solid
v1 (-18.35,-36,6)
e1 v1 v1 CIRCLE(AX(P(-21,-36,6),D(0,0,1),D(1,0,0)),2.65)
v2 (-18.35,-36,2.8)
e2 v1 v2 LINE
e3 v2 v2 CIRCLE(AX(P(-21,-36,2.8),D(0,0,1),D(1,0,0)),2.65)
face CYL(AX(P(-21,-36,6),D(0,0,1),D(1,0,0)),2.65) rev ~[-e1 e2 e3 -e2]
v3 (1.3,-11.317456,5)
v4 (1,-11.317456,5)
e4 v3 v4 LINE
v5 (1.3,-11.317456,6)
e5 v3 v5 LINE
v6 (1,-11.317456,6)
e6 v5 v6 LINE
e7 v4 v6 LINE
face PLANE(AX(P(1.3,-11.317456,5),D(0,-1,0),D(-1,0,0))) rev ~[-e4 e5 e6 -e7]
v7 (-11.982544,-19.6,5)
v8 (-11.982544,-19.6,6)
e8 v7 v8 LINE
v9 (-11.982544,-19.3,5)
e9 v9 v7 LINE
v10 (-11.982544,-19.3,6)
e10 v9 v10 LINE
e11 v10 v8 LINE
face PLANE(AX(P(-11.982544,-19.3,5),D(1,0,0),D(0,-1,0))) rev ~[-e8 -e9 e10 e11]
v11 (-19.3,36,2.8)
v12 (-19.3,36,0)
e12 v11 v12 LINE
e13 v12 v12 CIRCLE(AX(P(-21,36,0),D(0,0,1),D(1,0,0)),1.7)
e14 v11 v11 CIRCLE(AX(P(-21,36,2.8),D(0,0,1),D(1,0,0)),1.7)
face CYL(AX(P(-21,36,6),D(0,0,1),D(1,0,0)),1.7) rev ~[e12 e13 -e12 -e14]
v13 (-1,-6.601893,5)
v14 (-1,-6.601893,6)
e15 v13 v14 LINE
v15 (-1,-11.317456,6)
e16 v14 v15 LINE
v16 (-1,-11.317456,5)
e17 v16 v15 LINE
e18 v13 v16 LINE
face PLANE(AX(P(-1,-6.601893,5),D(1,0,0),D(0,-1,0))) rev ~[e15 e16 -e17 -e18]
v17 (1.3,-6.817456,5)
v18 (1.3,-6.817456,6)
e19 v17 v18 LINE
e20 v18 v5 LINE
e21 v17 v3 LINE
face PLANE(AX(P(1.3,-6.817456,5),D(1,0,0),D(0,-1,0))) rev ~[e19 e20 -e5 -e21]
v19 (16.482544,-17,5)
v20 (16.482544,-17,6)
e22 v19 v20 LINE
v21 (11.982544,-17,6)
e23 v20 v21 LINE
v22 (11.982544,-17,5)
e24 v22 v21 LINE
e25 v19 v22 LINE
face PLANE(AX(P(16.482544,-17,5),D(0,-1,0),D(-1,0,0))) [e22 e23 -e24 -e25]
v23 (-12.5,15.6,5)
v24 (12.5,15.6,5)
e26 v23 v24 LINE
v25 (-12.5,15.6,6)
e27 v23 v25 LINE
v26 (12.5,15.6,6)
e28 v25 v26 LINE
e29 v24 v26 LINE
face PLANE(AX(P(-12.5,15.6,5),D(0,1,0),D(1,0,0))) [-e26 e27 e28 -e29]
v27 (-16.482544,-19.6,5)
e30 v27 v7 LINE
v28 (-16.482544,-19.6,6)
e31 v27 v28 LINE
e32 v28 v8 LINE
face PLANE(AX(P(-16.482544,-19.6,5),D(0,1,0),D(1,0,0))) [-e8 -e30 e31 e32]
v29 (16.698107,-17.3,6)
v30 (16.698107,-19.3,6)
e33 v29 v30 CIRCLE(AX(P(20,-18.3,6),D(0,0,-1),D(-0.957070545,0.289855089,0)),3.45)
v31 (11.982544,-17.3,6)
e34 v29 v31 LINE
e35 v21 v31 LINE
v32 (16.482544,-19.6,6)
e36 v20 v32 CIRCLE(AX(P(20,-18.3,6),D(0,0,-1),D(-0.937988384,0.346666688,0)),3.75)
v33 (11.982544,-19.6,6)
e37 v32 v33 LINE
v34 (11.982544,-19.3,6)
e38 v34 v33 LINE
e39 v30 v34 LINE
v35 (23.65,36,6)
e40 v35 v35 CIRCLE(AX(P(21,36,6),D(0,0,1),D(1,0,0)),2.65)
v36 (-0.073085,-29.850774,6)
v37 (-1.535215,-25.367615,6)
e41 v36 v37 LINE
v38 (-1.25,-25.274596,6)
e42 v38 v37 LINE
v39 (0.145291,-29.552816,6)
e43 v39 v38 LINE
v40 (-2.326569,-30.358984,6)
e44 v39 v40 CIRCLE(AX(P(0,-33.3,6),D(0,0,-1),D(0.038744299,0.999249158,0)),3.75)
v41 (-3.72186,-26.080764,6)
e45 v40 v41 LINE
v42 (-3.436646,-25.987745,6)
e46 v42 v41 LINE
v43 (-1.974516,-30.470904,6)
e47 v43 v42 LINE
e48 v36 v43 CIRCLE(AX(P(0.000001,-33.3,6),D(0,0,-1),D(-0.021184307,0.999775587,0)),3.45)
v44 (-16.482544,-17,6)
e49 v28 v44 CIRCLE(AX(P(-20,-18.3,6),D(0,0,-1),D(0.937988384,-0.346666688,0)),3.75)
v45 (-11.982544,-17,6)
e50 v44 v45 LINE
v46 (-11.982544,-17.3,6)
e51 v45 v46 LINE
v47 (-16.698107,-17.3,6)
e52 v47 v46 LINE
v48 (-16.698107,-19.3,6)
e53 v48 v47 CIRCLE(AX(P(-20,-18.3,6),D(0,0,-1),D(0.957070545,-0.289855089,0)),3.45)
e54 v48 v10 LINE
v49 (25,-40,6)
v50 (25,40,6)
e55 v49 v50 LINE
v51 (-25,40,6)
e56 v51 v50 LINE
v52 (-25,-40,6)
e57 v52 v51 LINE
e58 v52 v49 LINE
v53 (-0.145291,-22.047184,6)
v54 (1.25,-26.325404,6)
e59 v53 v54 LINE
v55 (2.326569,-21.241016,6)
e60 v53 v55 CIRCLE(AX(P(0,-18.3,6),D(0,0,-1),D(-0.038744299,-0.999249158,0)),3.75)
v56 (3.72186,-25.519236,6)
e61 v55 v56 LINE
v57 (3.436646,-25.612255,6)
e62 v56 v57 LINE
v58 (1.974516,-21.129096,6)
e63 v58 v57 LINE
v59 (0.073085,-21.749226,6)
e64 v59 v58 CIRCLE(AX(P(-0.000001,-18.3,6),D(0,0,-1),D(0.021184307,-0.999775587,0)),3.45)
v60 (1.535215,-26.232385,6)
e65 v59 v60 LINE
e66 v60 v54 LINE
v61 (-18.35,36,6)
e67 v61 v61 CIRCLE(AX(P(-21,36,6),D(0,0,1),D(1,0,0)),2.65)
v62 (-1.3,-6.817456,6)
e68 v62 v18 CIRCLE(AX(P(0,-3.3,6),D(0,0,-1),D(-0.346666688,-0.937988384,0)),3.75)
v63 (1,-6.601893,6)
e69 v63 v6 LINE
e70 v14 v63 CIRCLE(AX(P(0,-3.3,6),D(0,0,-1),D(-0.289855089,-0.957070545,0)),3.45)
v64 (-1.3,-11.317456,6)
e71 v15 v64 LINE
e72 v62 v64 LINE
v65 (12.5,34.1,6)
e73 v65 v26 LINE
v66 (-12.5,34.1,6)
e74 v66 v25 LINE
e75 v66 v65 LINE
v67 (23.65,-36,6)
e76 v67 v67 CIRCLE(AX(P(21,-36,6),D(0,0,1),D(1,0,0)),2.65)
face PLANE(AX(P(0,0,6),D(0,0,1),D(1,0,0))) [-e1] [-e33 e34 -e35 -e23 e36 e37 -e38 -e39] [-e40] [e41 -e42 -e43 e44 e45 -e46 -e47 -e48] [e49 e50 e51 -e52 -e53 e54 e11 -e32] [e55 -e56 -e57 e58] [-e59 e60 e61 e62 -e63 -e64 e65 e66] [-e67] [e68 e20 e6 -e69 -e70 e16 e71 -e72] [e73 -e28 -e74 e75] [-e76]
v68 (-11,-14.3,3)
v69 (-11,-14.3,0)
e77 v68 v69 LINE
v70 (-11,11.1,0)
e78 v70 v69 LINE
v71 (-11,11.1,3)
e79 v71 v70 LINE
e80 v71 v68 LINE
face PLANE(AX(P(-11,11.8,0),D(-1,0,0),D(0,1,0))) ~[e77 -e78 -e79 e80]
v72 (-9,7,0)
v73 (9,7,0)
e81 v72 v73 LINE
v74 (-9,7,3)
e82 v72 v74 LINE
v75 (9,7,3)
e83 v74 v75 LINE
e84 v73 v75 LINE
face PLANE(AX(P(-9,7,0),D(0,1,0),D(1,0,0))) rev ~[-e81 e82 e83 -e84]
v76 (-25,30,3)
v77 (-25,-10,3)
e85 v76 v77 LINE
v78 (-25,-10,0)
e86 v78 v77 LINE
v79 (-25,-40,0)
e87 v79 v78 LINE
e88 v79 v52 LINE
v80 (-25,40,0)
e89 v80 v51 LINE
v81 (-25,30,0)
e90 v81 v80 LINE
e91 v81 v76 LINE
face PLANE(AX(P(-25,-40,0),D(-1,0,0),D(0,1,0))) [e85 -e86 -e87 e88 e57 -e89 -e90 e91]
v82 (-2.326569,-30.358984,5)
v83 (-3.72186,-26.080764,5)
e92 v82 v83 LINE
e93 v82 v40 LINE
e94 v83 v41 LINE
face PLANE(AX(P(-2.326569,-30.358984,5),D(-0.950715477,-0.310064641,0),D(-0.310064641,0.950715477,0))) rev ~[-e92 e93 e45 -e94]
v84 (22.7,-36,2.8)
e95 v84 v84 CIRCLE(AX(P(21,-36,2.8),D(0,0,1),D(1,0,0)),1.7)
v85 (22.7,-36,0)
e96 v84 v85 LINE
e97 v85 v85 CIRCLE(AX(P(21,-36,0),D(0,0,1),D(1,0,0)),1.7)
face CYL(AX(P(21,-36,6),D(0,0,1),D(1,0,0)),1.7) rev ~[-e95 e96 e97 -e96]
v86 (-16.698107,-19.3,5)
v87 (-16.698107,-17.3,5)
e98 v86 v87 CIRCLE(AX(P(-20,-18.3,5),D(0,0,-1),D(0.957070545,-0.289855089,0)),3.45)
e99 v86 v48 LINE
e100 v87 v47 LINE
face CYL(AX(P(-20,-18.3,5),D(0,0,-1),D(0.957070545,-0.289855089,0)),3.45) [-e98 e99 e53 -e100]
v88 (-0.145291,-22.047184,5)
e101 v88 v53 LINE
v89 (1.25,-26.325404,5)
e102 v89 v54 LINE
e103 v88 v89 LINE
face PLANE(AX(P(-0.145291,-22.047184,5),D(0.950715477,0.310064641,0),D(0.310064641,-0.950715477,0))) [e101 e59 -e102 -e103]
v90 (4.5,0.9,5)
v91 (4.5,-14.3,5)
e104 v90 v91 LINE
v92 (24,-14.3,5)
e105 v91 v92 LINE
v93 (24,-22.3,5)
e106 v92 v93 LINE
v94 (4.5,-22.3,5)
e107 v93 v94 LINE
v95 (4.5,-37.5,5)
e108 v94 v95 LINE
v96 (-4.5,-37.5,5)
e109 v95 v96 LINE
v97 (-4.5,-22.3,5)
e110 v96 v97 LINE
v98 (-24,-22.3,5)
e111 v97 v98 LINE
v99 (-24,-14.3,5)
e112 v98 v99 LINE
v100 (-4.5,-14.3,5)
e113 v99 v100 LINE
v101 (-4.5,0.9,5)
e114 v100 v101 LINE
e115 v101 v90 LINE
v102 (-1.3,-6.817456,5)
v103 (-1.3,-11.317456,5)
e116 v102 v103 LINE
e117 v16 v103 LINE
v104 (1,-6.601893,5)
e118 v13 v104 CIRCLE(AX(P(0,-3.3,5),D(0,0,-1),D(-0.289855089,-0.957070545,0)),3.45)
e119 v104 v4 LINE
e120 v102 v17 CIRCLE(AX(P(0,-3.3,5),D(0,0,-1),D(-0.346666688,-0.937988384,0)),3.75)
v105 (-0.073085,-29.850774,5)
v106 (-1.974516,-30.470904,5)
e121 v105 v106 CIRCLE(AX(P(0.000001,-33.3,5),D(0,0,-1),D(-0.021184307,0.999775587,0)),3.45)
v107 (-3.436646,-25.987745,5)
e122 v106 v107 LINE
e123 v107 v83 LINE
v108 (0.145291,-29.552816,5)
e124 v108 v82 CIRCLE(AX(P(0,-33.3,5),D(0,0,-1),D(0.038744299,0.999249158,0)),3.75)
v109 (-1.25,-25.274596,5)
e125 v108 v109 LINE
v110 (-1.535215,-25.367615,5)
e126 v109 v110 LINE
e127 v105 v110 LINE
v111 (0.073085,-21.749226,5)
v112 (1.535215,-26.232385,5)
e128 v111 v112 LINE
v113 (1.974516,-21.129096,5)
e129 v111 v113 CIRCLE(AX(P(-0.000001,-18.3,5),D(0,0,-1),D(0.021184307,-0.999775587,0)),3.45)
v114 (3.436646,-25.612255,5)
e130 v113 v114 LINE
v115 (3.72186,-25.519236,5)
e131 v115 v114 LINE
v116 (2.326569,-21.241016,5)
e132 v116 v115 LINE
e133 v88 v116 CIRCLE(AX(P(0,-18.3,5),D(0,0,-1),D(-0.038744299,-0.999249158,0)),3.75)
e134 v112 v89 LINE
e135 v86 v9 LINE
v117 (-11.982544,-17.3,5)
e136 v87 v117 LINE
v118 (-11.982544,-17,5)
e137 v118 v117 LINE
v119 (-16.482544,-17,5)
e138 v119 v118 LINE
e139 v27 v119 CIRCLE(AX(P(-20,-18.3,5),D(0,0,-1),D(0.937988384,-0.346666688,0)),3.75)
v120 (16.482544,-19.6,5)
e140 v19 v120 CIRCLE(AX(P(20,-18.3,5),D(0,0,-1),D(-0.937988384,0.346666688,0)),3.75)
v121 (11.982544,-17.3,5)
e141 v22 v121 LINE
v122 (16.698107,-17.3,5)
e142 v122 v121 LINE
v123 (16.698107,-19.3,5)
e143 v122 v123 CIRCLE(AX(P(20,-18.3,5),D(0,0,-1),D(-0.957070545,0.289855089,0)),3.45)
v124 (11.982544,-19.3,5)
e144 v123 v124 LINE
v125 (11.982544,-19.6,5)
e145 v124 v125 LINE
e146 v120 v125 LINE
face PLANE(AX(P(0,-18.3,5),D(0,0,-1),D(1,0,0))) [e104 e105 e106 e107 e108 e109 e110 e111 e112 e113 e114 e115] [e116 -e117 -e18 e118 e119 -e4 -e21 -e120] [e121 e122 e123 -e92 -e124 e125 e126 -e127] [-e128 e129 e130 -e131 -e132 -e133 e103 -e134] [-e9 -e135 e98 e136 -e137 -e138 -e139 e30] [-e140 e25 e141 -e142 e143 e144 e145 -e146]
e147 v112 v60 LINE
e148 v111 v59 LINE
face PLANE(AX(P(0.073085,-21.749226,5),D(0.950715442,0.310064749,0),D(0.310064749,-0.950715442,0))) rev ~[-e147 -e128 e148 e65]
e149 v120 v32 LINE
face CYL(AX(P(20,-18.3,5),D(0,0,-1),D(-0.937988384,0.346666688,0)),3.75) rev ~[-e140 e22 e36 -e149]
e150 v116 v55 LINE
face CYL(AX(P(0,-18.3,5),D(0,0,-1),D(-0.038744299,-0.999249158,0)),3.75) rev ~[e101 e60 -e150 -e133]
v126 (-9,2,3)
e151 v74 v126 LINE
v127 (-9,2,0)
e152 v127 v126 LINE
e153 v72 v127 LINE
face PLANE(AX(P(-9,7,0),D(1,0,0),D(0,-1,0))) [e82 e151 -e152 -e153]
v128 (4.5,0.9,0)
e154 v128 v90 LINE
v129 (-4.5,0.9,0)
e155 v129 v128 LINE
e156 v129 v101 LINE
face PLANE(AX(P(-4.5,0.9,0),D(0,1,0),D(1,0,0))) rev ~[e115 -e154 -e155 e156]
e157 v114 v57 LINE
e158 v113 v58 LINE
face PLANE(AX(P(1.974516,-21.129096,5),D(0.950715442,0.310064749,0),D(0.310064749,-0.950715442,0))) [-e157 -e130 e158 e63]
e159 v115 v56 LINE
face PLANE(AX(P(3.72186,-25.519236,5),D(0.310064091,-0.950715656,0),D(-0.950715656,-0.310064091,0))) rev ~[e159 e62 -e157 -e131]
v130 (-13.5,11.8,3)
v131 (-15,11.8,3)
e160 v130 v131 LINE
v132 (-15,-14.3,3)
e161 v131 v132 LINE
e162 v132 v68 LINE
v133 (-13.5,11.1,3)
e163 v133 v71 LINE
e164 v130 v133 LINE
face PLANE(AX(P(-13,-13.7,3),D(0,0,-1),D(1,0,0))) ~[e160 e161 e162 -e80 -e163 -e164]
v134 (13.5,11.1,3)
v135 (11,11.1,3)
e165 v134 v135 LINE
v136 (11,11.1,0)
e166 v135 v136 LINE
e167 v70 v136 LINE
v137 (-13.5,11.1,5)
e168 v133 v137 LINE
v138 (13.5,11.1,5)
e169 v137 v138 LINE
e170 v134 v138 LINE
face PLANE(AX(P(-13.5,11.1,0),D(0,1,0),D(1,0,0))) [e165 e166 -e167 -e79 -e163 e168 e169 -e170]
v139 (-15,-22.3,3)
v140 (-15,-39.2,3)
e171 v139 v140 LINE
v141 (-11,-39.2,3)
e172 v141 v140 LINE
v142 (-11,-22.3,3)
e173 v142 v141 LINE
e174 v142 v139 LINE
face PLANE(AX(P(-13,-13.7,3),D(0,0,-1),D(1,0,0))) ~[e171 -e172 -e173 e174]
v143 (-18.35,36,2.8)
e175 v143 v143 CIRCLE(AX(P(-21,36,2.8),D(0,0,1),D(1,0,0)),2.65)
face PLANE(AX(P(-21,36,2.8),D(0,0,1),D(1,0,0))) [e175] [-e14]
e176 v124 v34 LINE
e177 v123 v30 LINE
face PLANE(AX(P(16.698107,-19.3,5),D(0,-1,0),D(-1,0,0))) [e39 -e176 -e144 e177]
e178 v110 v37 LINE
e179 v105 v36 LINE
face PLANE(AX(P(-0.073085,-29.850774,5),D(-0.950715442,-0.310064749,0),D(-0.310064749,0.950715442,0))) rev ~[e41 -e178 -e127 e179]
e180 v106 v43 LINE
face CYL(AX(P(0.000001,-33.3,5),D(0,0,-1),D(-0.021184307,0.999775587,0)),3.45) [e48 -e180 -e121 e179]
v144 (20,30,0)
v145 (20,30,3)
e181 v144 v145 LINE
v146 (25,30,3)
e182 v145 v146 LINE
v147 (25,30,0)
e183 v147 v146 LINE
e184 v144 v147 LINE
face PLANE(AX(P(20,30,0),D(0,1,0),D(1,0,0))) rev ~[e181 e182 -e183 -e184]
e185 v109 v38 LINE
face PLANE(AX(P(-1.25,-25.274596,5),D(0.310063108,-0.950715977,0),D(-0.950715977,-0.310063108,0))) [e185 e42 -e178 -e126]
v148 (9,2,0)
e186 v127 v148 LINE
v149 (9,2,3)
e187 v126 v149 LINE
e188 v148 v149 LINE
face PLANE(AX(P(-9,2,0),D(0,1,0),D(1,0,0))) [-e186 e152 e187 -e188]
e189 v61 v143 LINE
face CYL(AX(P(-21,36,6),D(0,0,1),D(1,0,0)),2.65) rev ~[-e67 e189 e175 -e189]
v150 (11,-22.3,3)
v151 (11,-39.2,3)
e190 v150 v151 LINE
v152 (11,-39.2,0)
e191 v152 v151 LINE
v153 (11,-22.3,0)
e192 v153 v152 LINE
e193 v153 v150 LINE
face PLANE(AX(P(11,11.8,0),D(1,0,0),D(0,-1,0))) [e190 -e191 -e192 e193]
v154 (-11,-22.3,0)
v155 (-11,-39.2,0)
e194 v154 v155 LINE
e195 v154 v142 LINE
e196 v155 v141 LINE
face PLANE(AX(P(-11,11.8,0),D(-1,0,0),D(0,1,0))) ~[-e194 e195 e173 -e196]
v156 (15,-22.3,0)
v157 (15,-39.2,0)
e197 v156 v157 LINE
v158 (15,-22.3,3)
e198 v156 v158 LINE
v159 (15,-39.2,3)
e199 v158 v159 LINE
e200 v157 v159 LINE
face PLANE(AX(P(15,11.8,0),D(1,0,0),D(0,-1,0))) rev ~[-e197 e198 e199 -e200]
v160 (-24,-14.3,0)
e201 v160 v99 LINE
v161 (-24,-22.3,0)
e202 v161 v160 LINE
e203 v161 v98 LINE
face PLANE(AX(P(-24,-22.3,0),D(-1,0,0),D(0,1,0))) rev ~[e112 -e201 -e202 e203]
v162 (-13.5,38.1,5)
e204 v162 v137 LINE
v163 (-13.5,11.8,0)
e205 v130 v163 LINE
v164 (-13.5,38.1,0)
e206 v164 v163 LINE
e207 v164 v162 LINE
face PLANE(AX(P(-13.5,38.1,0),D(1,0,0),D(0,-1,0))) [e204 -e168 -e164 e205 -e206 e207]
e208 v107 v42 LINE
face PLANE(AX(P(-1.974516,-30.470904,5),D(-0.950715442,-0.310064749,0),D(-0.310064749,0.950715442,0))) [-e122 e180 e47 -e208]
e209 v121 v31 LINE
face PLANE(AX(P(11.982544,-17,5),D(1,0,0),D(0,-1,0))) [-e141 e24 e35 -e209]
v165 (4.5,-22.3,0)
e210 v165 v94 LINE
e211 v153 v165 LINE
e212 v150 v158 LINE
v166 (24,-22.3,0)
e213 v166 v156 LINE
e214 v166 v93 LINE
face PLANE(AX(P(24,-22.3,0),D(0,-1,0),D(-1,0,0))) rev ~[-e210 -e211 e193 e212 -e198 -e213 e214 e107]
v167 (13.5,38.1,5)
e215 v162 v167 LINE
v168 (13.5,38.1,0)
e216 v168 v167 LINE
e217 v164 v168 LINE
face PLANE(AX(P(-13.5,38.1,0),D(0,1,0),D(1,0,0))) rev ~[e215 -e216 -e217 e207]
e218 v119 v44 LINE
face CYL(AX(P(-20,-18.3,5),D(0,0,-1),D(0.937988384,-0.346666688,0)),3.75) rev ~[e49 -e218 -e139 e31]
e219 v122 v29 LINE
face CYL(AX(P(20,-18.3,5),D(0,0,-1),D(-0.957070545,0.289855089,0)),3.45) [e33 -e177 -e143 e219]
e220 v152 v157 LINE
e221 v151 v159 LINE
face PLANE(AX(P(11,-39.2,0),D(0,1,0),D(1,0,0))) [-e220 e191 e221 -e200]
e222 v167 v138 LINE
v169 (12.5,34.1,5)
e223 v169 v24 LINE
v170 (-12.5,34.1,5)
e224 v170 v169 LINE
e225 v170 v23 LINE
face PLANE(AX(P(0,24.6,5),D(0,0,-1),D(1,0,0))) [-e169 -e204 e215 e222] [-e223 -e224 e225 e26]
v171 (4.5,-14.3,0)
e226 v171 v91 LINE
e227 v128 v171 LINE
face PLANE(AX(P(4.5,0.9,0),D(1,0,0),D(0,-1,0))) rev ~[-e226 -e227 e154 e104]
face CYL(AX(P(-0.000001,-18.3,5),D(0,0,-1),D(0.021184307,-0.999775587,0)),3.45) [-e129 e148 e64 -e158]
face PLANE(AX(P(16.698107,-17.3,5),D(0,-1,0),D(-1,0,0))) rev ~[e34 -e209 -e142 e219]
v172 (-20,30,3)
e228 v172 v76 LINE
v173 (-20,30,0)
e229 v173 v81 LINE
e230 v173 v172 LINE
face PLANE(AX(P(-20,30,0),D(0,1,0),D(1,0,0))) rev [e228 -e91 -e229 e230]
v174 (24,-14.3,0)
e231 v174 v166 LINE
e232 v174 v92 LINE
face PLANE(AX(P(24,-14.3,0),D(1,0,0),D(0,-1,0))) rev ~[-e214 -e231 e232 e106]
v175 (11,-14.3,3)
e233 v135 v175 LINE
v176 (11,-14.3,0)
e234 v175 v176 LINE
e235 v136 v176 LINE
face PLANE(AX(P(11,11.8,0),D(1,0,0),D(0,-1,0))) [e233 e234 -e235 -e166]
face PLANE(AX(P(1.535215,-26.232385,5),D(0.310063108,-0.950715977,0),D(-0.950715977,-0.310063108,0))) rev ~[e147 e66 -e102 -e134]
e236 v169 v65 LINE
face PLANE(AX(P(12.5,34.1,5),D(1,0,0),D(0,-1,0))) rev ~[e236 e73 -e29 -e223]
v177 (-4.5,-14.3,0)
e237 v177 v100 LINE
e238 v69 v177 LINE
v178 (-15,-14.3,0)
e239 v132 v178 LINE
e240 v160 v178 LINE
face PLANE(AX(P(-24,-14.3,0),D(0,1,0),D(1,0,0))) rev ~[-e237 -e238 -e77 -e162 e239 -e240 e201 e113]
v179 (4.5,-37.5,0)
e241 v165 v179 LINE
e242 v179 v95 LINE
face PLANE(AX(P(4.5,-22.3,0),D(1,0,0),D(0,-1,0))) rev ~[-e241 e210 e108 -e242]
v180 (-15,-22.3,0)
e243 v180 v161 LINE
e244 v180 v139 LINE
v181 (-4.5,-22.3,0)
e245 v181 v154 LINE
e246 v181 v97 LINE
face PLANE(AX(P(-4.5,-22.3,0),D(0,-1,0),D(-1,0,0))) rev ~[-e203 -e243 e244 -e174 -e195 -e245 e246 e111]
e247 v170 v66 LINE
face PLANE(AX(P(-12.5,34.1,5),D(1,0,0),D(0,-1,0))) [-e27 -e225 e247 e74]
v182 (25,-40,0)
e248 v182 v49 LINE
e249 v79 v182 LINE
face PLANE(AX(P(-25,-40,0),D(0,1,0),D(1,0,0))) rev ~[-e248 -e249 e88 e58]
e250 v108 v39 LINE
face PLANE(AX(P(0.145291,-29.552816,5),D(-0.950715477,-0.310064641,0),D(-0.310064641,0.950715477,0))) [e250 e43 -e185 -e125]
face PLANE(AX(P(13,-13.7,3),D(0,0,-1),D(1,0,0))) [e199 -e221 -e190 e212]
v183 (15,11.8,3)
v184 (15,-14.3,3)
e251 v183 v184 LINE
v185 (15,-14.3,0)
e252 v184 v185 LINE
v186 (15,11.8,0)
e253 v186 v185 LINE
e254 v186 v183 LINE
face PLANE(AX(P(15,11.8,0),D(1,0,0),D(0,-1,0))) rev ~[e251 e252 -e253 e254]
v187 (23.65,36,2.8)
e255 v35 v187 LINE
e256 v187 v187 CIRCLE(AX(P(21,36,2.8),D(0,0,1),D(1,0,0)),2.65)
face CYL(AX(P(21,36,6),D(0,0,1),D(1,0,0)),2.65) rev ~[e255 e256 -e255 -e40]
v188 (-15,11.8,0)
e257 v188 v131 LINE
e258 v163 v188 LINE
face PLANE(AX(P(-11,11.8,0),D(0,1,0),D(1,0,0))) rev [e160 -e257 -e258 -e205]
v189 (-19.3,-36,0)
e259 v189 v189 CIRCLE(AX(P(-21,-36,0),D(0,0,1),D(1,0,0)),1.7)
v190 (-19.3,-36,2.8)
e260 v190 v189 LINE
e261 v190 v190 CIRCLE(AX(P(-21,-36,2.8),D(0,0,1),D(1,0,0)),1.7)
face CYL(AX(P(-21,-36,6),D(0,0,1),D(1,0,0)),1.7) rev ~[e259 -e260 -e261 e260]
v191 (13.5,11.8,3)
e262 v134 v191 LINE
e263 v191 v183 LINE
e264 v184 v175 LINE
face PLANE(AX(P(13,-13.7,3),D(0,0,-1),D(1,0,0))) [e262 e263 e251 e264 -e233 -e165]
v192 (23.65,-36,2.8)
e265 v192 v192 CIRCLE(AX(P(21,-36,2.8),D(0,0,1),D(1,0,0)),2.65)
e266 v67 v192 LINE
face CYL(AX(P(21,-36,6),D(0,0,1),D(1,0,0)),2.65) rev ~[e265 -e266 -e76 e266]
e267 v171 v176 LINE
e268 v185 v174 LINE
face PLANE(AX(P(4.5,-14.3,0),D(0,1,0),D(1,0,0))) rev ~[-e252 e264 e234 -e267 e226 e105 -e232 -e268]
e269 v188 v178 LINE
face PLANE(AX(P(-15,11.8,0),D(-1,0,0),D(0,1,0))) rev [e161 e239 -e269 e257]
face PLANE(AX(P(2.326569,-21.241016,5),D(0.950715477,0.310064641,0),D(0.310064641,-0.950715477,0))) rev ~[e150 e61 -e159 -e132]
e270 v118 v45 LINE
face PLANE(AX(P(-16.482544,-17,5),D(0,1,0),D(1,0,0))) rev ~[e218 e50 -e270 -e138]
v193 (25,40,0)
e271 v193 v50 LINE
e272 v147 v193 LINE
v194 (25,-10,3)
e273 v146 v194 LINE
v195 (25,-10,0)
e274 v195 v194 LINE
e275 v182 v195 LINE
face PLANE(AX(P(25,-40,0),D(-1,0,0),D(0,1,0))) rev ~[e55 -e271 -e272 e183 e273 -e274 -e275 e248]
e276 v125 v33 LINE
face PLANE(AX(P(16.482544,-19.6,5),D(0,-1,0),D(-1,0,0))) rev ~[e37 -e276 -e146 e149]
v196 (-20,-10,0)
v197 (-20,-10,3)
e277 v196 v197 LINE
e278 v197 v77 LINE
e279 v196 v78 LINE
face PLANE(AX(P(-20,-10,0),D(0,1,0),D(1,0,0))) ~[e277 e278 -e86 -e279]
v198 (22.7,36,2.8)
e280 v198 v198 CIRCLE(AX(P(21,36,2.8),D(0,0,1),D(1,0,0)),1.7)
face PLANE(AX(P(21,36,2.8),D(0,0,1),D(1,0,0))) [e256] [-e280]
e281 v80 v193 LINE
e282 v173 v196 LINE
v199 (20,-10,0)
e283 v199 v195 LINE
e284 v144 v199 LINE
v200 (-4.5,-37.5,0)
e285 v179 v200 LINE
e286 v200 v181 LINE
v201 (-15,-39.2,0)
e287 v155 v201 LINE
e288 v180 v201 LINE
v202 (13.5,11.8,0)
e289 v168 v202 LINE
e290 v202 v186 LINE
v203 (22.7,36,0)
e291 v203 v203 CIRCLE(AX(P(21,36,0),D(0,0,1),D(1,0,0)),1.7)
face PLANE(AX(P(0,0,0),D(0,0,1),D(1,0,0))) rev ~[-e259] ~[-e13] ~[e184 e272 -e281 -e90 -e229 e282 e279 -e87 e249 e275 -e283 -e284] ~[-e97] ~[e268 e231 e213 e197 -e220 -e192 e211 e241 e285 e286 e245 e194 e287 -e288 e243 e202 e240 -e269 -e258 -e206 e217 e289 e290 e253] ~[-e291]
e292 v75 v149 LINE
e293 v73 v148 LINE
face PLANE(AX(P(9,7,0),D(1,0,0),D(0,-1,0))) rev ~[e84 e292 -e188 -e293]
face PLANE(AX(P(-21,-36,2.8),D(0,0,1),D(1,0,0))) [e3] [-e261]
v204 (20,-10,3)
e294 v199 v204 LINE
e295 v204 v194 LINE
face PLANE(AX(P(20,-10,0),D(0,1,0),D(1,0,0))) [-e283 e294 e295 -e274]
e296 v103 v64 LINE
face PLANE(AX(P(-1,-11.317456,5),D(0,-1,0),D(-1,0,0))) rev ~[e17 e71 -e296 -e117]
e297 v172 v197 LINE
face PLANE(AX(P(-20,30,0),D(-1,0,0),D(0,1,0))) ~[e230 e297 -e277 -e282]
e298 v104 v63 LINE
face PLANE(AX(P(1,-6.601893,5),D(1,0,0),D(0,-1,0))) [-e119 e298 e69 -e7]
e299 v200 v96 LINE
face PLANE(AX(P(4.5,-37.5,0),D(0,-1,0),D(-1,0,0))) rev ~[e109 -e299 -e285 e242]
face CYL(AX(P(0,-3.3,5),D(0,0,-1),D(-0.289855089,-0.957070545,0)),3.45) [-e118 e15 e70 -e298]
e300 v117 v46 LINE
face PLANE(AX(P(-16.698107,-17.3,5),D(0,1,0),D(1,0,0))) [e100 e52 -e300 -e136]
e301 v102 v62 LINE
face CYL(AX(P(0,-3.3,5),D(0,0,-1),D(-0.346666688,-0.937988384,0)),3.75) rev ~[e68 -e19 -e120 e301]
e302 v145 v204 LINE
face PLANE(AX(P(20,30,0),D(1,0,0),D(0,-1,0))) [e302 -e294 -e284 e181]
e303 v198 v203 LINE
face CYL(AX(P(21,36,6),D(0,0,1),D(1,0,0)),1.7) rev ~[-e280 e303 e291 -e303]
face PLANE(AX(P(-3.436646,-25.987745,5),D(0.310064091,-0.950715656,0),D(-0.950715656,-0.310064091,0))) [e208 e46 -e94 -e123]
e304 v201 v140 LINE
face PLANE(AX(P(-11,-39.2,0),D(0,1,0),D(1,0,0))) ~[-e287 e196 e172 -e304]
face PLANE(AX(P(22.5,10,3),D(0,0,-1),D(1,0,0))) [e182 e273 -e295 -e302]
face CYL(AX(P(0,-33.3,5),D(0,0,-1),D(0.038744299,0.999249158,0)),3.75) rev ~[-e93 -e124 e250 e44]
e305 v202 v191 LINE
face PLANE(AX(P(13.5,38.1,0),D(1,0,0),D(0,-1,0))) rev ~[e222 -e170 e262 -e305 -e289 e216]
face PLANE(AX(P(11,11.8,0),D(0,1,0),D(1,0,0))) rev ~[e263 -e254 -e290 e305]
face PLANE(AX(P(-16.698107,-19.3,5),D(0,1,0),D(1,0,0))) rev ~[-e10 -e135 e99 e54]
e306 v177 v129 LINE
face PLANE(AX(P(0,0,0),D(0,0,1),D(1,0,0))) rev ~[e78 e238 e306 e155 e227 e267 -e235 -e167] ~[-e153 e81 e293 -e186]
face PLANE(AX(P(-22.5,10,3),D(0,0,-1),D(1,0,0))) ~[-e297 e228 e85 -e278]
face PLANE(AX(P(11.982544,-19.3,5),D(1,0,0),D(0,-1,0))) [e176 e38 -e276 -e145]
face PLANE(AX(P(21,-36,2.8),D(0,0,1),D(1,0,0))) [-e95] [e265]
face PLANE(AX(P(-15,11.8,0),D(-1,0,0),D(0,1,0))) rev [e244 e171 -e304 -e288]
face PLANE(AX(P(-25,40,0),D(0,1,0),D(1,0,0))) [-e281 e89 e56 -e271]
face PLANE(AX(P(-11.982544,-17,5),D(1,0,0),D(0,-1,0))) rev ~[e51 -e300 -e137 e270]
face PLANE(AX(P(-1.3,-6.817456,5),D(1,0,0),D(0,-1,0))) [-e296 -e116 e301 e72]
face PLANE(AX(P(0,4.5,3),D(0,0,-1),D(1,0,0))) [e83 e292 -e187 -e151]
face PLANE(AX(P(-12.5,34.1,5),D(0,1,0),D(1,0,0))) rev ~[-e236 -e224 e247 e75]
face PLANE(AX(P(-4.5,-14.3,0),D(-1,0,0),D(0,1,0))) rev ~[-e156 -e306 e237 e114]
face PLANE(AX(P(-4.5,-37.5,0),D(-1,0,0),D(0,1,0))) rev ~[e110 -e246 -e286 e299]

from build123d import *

# Parameters (mm, degrees)
SKETCH011_W     = 50
SKETCH011_H     = 80
PAD005_DEPTH    = 6
SKETCH012_R     = 1.7
POCKET005_DEPTH = 6
SKETCH013_W     = 7
SKETCH013_H     = 6
POCKET006_DEPTH = 5
SKETCH014_W     = 27
SKETCH014_H     = 27
POCKET007_DEPTH = 5
SKETCH015_W     = 25
SKETCH015_H     = 18.5
POCKET008_DEPTH = 1
POCKET009_DEPTH = 5
POCKET010_DEPTH = 1
SKETCH019_W     = 18
SKETCH019_H     = 5
POCKET011_DEPTH = 3
SKETCH020_W     = 4
SKETCH020_H     = 51
POCKET012_DEPTH = 3
SKETCH021_W     = 5
SKETCH021_H     = 40
POCKET013_DEPTH = 3
SKETCH023_R     = 2.65
POCKET014_DEPTH = 3.2


with BuildPart() as part:
    # Sketch011 → Pad005 (new body)
    with BuildSketch(Plane.XY):
        Rectangle(SKETCH011_W, SKETCH011_H)
    extrude(amount=PAD005_DEPTH)

    # Sketch012 (on Face6 of Pad005) → Pocket005 (cut)
    with BuildSketch(Plane.XY.offset(6)):
        with Locations((-21, 36)):
            Circle(SKETCH012_R)
        with Locations((21, 36)):
            Circle(SKETCH012_R)
        with Locations((-21, -36)):
            Circle(SKETCH012_R)
        with Locations((21, -36)):
            Circle(SKETCH012_R)
    extrude(amount=-POCKET005_DEPTH, mode=Mode.SUBTRACT)

    # Sketch013 (on Face4 of Pocket005) → Pocket006 (cut)
    with BuildSketch(Plane(origin=(0, 0, 0), x_dir=(1, 0, 0), z_dir=(0, 0, -1))):
        with Locations((0, 33.3)):
            Rectangle(SKETCH013_W, SKETCH013_H)
        with Locations((0, 3.3)):
            Rectangle(SKETCH013_W, SKETCH013_H)
        with Locations((0, 18.3)):
            Rectangle(SKETCH013_W, SKETCH013_H)
        with Locations((20, 18.3)):
            Rectangle(SKETCH013_W, SKETCH013_H)
        with Locations((-20, 18.3)):
            Rectangle(SKETCH013_W, SKETCH013_H)
    extrude(amount=-POCKET006_DEPTH, mode=Mode.SUBTRACT)

    # Sketch014 (on Face4 of Pocket006) → Pocket007 (cut)
    with BuildSketch(Plane(origin=(0, 0, 0), x_dir=(1, 0, 0), z_dir=(0, 0, -1))):
        with Locations((0, -24.6)):
            Rectangle(SKETCH014_W, SKETCH014_H)
    extrude(amount=-POCKET007_DEPTH, mode=Mode.SUBTRACT)

    # Sketch015 (on Face40 of Pocket007) → Pocket008 (cut)
    with BuildSketch(Plane(origin=(0, 0, 5), x_dir=(1, 0, 0), z_dir=(0, 0, -1))):
        with Locations((0, -24.85)):
            Rectangle(SKETCH015_W, SKETCH015_H)
    extrude(amount=-POCKET008_DEPTH, mode=Mode.SUBTRACT)

    # Sketch017 (on Face4 of Pocket008) → Pocket009 (cut)
    with BuildSketch(Plane(origin=(0, 0, 0), x_dir=(1, 0, 0), z_dir=(0, 0, -1))):
        Polygon((4.5, 37.5), (-4.5, 37.5), (-4.5, 22.3), (-24, 22.3), (-24, 14.3), (-4.5, 14.3), (-4.5, -0.9), (4.5, -0.9), (4.5, 14.3), (24, 14.3), (24, 22.3), (4.5, 22.3), align=None)
    extrude(amount=-POCKET009_DEPTH, mode=Mode.SUBTRACT)

    # Sketch018 (on Face32 of Pocket009) → Pocket010 (cut)
    with BuildSketch(Plane(origin=(0, 0, 5), x_dir=(1, 0, 0), z_dir=(0, 0, -1))):
        with BuildLine():
            ThreePointArc((0.145291, 29.552816), (1.162743, 36.865183), (-2.326569, 30.358984))
            Line((-2.326569, 30.358984), (-3.72186, 26.080764))
            Line((-3.436646, 25.987745), (-3.72186, 26.080764))
            Line((-1.974516, 30.470904), (-3.436646, 25.987745))
            ThreePointArc((-0.073085, 29.850774), (1.069723, 36.579968), (-1.974516, 30.470904))
            Line((-0.073085, 29.850774), (-1.535215, 25.367615))
            Line((-1.25, 25.274596), (-1.535215, 25.367615))
            Line((0.145291, 29.552816), (-1.25, 25.274596))
        make_face()
        with BuildLine():
            ThreePointArc((-16.482544, 19.6), (-23.75, 18.3), (-16.482544, 17))
            Line((-16.482544, 17), (-11.982544, 17))
            Line((-11.982544, 17), (-11.982544, 17.3))
            Line((-16.698107, 17.3), (-11.982544, 17.3))
            ThreePointArc((-16.698107, 19.3), (-23.45, 18.3), (-16.698107, 17.3))
            Line((-16.698107, 19.3), (-11.982544, 19.3))
            Line((-11.982544, 19.3), (-11.982544, 19.6))
            Line((-16.482544, 19.6), (-11.982544, 19.6))
        make_face()
        with BuildLine():
            ThreePointArc((16.482544, 17), (23.75, 18.3), (16.482544, 19.6))
            Line((16.482544, 19.6), (11.982544, 19.6))
            Line((11.982544, 19.3), (11.982544, 19.6))
            Line((16.698107, 19.3), (11.982544, 19.3))
            ThreePointArc((16.698107, 17.3), (23.45, 18.3), (16.698107, 19.3))
            Line((16.698107, 17.3), (11.982544, 17.3))
            Line((11.982544, 17), (11.982544, 17.3))
            Line((16.482544, 17), (11.982544, 17))
        make_face()
        with BuildLine():
            ThreePointArc((-1.3, 6.817456), (0, -0.45), (1.3, 6.817456))
            Line((1.3, 6.817456), (1.3, 11.317456))
            Line((1.3, 11.317456), (1, 11.317456))
            Line((1, 6.601893), (1, 11.317456))
            ThreePointArc((-1, 6.601893), (0, -0.15), (1, 6.601893))
            Line((-1, 6.601893), (-1, 11.317456))
            Line((-1, 11.317456), (-1.3, 11.317456))
            Line((-1.3, 6.817456), (-1.3, 11.317456))
        make_face()
        with BuildLine():
            ThreePointArc((-0.145291, 22.047184), (-1.162743, 14.734817), (2.326569, 21.241016))
            Line((2.326569, 21.241016), (3.72186, 25.519236))
            Line((3.72186, 25.519236), (3.436646, 25.612255))
            Line((1.974516, 21.129096), (3.436646, 25.612255))
            ThreePointArc((0.073085, 21.749226), (-1.069723, 15.020032), (1.974516, 21.129096))
            Line((0.073085, 21.749226), (1.535215, 26.232385))
            Line((1.535215, 26.232385), (1.25, 26.325404))
            Line((-0.145291, 22.047184), (1.25, 26.325404))
        make_face()
    extrude(amount=-POCKET010_DEPTH, mode=Mode.SUBTRACT)

    # Sketch019 (on Face4 of Pocket010) → Pocket011 (cut)
    with BuildSketch(Plane(origin=(0, 0, 0), x_dir=(1, 0, 0), z_dir=(0, 0, -1))):
        with Locations((0, -4.5)):
            Rectangle(SKETCH019_W, SKETCH019_H)
    extrude(amount=-POCKET011_DEPTH, mode=Mode.SUBTRACT)

    # Sketch020 (on Face4 of Pocket011) → Pocket012 (cut)
    with BuildSketch(Plane(origin=(0, 0, 0), x_dir=(1, 0, 0), z_dir=(0, 0, -1))):
        with Locations((13, 13.7)):
            Rectangle(SKETCH020_W, SKETCH020_H)
    pocket012 = extrude(amount=-POCKET012_DEPTH, mode=Mode.SUBTRACT)

    # Mirrored003: Pocket012 across Sketch020 V_Axis
    add(pocket012.mirror(Plane(origin=(0, 0, 0), x_dir=(0, 0, -1), z_dir=(1, 0, 0))), mode=Mode.SUBTRACT)

    # Sketch021 (on Face4 of Mirrored003) → Pocket013 (cut)
    with BuildSketch(Plane(origin=(0, 0, 0), x_dir=(1, 0, 0), z_dir=(0, 0, -1))):
        with Locations((22.5, -10)):
            Rectangle(SKETCH021_W, SKETCH021_H)
    pocket013 = extrude(amount=-POCKET013_DEPTH, mode=Mode.SUBTRACT)

    # Mirrored004: Pocket013 across Sketch021 V_Axis
    add(pocket013.mirror(Plane(origin=(0, 0, 0), x_dir=(0, 0, -1), z_dir=(1, 0, 0))), mode=Mode.SUBTRACT)

    # Sketch023 (on Face7 of Mirrored004) → Pocket014 (cut)
    with BuildSketch(Plane.XY.offset(6)):
        with Locations((21, 36)):
            Circle(SKETCH023_R)
        with Locations((-21, 36)):
            Circle(SKETCH023_R)
        with Locations((-21, -36)):
            Circle(SKETCH023_R)
        with Locations((21, -36)):
            Circle(SKETCH023_R)
    extrude(amount=-POCKET014_DEPTH, mode=Mode.SUBTRACT)


solid = part.part
